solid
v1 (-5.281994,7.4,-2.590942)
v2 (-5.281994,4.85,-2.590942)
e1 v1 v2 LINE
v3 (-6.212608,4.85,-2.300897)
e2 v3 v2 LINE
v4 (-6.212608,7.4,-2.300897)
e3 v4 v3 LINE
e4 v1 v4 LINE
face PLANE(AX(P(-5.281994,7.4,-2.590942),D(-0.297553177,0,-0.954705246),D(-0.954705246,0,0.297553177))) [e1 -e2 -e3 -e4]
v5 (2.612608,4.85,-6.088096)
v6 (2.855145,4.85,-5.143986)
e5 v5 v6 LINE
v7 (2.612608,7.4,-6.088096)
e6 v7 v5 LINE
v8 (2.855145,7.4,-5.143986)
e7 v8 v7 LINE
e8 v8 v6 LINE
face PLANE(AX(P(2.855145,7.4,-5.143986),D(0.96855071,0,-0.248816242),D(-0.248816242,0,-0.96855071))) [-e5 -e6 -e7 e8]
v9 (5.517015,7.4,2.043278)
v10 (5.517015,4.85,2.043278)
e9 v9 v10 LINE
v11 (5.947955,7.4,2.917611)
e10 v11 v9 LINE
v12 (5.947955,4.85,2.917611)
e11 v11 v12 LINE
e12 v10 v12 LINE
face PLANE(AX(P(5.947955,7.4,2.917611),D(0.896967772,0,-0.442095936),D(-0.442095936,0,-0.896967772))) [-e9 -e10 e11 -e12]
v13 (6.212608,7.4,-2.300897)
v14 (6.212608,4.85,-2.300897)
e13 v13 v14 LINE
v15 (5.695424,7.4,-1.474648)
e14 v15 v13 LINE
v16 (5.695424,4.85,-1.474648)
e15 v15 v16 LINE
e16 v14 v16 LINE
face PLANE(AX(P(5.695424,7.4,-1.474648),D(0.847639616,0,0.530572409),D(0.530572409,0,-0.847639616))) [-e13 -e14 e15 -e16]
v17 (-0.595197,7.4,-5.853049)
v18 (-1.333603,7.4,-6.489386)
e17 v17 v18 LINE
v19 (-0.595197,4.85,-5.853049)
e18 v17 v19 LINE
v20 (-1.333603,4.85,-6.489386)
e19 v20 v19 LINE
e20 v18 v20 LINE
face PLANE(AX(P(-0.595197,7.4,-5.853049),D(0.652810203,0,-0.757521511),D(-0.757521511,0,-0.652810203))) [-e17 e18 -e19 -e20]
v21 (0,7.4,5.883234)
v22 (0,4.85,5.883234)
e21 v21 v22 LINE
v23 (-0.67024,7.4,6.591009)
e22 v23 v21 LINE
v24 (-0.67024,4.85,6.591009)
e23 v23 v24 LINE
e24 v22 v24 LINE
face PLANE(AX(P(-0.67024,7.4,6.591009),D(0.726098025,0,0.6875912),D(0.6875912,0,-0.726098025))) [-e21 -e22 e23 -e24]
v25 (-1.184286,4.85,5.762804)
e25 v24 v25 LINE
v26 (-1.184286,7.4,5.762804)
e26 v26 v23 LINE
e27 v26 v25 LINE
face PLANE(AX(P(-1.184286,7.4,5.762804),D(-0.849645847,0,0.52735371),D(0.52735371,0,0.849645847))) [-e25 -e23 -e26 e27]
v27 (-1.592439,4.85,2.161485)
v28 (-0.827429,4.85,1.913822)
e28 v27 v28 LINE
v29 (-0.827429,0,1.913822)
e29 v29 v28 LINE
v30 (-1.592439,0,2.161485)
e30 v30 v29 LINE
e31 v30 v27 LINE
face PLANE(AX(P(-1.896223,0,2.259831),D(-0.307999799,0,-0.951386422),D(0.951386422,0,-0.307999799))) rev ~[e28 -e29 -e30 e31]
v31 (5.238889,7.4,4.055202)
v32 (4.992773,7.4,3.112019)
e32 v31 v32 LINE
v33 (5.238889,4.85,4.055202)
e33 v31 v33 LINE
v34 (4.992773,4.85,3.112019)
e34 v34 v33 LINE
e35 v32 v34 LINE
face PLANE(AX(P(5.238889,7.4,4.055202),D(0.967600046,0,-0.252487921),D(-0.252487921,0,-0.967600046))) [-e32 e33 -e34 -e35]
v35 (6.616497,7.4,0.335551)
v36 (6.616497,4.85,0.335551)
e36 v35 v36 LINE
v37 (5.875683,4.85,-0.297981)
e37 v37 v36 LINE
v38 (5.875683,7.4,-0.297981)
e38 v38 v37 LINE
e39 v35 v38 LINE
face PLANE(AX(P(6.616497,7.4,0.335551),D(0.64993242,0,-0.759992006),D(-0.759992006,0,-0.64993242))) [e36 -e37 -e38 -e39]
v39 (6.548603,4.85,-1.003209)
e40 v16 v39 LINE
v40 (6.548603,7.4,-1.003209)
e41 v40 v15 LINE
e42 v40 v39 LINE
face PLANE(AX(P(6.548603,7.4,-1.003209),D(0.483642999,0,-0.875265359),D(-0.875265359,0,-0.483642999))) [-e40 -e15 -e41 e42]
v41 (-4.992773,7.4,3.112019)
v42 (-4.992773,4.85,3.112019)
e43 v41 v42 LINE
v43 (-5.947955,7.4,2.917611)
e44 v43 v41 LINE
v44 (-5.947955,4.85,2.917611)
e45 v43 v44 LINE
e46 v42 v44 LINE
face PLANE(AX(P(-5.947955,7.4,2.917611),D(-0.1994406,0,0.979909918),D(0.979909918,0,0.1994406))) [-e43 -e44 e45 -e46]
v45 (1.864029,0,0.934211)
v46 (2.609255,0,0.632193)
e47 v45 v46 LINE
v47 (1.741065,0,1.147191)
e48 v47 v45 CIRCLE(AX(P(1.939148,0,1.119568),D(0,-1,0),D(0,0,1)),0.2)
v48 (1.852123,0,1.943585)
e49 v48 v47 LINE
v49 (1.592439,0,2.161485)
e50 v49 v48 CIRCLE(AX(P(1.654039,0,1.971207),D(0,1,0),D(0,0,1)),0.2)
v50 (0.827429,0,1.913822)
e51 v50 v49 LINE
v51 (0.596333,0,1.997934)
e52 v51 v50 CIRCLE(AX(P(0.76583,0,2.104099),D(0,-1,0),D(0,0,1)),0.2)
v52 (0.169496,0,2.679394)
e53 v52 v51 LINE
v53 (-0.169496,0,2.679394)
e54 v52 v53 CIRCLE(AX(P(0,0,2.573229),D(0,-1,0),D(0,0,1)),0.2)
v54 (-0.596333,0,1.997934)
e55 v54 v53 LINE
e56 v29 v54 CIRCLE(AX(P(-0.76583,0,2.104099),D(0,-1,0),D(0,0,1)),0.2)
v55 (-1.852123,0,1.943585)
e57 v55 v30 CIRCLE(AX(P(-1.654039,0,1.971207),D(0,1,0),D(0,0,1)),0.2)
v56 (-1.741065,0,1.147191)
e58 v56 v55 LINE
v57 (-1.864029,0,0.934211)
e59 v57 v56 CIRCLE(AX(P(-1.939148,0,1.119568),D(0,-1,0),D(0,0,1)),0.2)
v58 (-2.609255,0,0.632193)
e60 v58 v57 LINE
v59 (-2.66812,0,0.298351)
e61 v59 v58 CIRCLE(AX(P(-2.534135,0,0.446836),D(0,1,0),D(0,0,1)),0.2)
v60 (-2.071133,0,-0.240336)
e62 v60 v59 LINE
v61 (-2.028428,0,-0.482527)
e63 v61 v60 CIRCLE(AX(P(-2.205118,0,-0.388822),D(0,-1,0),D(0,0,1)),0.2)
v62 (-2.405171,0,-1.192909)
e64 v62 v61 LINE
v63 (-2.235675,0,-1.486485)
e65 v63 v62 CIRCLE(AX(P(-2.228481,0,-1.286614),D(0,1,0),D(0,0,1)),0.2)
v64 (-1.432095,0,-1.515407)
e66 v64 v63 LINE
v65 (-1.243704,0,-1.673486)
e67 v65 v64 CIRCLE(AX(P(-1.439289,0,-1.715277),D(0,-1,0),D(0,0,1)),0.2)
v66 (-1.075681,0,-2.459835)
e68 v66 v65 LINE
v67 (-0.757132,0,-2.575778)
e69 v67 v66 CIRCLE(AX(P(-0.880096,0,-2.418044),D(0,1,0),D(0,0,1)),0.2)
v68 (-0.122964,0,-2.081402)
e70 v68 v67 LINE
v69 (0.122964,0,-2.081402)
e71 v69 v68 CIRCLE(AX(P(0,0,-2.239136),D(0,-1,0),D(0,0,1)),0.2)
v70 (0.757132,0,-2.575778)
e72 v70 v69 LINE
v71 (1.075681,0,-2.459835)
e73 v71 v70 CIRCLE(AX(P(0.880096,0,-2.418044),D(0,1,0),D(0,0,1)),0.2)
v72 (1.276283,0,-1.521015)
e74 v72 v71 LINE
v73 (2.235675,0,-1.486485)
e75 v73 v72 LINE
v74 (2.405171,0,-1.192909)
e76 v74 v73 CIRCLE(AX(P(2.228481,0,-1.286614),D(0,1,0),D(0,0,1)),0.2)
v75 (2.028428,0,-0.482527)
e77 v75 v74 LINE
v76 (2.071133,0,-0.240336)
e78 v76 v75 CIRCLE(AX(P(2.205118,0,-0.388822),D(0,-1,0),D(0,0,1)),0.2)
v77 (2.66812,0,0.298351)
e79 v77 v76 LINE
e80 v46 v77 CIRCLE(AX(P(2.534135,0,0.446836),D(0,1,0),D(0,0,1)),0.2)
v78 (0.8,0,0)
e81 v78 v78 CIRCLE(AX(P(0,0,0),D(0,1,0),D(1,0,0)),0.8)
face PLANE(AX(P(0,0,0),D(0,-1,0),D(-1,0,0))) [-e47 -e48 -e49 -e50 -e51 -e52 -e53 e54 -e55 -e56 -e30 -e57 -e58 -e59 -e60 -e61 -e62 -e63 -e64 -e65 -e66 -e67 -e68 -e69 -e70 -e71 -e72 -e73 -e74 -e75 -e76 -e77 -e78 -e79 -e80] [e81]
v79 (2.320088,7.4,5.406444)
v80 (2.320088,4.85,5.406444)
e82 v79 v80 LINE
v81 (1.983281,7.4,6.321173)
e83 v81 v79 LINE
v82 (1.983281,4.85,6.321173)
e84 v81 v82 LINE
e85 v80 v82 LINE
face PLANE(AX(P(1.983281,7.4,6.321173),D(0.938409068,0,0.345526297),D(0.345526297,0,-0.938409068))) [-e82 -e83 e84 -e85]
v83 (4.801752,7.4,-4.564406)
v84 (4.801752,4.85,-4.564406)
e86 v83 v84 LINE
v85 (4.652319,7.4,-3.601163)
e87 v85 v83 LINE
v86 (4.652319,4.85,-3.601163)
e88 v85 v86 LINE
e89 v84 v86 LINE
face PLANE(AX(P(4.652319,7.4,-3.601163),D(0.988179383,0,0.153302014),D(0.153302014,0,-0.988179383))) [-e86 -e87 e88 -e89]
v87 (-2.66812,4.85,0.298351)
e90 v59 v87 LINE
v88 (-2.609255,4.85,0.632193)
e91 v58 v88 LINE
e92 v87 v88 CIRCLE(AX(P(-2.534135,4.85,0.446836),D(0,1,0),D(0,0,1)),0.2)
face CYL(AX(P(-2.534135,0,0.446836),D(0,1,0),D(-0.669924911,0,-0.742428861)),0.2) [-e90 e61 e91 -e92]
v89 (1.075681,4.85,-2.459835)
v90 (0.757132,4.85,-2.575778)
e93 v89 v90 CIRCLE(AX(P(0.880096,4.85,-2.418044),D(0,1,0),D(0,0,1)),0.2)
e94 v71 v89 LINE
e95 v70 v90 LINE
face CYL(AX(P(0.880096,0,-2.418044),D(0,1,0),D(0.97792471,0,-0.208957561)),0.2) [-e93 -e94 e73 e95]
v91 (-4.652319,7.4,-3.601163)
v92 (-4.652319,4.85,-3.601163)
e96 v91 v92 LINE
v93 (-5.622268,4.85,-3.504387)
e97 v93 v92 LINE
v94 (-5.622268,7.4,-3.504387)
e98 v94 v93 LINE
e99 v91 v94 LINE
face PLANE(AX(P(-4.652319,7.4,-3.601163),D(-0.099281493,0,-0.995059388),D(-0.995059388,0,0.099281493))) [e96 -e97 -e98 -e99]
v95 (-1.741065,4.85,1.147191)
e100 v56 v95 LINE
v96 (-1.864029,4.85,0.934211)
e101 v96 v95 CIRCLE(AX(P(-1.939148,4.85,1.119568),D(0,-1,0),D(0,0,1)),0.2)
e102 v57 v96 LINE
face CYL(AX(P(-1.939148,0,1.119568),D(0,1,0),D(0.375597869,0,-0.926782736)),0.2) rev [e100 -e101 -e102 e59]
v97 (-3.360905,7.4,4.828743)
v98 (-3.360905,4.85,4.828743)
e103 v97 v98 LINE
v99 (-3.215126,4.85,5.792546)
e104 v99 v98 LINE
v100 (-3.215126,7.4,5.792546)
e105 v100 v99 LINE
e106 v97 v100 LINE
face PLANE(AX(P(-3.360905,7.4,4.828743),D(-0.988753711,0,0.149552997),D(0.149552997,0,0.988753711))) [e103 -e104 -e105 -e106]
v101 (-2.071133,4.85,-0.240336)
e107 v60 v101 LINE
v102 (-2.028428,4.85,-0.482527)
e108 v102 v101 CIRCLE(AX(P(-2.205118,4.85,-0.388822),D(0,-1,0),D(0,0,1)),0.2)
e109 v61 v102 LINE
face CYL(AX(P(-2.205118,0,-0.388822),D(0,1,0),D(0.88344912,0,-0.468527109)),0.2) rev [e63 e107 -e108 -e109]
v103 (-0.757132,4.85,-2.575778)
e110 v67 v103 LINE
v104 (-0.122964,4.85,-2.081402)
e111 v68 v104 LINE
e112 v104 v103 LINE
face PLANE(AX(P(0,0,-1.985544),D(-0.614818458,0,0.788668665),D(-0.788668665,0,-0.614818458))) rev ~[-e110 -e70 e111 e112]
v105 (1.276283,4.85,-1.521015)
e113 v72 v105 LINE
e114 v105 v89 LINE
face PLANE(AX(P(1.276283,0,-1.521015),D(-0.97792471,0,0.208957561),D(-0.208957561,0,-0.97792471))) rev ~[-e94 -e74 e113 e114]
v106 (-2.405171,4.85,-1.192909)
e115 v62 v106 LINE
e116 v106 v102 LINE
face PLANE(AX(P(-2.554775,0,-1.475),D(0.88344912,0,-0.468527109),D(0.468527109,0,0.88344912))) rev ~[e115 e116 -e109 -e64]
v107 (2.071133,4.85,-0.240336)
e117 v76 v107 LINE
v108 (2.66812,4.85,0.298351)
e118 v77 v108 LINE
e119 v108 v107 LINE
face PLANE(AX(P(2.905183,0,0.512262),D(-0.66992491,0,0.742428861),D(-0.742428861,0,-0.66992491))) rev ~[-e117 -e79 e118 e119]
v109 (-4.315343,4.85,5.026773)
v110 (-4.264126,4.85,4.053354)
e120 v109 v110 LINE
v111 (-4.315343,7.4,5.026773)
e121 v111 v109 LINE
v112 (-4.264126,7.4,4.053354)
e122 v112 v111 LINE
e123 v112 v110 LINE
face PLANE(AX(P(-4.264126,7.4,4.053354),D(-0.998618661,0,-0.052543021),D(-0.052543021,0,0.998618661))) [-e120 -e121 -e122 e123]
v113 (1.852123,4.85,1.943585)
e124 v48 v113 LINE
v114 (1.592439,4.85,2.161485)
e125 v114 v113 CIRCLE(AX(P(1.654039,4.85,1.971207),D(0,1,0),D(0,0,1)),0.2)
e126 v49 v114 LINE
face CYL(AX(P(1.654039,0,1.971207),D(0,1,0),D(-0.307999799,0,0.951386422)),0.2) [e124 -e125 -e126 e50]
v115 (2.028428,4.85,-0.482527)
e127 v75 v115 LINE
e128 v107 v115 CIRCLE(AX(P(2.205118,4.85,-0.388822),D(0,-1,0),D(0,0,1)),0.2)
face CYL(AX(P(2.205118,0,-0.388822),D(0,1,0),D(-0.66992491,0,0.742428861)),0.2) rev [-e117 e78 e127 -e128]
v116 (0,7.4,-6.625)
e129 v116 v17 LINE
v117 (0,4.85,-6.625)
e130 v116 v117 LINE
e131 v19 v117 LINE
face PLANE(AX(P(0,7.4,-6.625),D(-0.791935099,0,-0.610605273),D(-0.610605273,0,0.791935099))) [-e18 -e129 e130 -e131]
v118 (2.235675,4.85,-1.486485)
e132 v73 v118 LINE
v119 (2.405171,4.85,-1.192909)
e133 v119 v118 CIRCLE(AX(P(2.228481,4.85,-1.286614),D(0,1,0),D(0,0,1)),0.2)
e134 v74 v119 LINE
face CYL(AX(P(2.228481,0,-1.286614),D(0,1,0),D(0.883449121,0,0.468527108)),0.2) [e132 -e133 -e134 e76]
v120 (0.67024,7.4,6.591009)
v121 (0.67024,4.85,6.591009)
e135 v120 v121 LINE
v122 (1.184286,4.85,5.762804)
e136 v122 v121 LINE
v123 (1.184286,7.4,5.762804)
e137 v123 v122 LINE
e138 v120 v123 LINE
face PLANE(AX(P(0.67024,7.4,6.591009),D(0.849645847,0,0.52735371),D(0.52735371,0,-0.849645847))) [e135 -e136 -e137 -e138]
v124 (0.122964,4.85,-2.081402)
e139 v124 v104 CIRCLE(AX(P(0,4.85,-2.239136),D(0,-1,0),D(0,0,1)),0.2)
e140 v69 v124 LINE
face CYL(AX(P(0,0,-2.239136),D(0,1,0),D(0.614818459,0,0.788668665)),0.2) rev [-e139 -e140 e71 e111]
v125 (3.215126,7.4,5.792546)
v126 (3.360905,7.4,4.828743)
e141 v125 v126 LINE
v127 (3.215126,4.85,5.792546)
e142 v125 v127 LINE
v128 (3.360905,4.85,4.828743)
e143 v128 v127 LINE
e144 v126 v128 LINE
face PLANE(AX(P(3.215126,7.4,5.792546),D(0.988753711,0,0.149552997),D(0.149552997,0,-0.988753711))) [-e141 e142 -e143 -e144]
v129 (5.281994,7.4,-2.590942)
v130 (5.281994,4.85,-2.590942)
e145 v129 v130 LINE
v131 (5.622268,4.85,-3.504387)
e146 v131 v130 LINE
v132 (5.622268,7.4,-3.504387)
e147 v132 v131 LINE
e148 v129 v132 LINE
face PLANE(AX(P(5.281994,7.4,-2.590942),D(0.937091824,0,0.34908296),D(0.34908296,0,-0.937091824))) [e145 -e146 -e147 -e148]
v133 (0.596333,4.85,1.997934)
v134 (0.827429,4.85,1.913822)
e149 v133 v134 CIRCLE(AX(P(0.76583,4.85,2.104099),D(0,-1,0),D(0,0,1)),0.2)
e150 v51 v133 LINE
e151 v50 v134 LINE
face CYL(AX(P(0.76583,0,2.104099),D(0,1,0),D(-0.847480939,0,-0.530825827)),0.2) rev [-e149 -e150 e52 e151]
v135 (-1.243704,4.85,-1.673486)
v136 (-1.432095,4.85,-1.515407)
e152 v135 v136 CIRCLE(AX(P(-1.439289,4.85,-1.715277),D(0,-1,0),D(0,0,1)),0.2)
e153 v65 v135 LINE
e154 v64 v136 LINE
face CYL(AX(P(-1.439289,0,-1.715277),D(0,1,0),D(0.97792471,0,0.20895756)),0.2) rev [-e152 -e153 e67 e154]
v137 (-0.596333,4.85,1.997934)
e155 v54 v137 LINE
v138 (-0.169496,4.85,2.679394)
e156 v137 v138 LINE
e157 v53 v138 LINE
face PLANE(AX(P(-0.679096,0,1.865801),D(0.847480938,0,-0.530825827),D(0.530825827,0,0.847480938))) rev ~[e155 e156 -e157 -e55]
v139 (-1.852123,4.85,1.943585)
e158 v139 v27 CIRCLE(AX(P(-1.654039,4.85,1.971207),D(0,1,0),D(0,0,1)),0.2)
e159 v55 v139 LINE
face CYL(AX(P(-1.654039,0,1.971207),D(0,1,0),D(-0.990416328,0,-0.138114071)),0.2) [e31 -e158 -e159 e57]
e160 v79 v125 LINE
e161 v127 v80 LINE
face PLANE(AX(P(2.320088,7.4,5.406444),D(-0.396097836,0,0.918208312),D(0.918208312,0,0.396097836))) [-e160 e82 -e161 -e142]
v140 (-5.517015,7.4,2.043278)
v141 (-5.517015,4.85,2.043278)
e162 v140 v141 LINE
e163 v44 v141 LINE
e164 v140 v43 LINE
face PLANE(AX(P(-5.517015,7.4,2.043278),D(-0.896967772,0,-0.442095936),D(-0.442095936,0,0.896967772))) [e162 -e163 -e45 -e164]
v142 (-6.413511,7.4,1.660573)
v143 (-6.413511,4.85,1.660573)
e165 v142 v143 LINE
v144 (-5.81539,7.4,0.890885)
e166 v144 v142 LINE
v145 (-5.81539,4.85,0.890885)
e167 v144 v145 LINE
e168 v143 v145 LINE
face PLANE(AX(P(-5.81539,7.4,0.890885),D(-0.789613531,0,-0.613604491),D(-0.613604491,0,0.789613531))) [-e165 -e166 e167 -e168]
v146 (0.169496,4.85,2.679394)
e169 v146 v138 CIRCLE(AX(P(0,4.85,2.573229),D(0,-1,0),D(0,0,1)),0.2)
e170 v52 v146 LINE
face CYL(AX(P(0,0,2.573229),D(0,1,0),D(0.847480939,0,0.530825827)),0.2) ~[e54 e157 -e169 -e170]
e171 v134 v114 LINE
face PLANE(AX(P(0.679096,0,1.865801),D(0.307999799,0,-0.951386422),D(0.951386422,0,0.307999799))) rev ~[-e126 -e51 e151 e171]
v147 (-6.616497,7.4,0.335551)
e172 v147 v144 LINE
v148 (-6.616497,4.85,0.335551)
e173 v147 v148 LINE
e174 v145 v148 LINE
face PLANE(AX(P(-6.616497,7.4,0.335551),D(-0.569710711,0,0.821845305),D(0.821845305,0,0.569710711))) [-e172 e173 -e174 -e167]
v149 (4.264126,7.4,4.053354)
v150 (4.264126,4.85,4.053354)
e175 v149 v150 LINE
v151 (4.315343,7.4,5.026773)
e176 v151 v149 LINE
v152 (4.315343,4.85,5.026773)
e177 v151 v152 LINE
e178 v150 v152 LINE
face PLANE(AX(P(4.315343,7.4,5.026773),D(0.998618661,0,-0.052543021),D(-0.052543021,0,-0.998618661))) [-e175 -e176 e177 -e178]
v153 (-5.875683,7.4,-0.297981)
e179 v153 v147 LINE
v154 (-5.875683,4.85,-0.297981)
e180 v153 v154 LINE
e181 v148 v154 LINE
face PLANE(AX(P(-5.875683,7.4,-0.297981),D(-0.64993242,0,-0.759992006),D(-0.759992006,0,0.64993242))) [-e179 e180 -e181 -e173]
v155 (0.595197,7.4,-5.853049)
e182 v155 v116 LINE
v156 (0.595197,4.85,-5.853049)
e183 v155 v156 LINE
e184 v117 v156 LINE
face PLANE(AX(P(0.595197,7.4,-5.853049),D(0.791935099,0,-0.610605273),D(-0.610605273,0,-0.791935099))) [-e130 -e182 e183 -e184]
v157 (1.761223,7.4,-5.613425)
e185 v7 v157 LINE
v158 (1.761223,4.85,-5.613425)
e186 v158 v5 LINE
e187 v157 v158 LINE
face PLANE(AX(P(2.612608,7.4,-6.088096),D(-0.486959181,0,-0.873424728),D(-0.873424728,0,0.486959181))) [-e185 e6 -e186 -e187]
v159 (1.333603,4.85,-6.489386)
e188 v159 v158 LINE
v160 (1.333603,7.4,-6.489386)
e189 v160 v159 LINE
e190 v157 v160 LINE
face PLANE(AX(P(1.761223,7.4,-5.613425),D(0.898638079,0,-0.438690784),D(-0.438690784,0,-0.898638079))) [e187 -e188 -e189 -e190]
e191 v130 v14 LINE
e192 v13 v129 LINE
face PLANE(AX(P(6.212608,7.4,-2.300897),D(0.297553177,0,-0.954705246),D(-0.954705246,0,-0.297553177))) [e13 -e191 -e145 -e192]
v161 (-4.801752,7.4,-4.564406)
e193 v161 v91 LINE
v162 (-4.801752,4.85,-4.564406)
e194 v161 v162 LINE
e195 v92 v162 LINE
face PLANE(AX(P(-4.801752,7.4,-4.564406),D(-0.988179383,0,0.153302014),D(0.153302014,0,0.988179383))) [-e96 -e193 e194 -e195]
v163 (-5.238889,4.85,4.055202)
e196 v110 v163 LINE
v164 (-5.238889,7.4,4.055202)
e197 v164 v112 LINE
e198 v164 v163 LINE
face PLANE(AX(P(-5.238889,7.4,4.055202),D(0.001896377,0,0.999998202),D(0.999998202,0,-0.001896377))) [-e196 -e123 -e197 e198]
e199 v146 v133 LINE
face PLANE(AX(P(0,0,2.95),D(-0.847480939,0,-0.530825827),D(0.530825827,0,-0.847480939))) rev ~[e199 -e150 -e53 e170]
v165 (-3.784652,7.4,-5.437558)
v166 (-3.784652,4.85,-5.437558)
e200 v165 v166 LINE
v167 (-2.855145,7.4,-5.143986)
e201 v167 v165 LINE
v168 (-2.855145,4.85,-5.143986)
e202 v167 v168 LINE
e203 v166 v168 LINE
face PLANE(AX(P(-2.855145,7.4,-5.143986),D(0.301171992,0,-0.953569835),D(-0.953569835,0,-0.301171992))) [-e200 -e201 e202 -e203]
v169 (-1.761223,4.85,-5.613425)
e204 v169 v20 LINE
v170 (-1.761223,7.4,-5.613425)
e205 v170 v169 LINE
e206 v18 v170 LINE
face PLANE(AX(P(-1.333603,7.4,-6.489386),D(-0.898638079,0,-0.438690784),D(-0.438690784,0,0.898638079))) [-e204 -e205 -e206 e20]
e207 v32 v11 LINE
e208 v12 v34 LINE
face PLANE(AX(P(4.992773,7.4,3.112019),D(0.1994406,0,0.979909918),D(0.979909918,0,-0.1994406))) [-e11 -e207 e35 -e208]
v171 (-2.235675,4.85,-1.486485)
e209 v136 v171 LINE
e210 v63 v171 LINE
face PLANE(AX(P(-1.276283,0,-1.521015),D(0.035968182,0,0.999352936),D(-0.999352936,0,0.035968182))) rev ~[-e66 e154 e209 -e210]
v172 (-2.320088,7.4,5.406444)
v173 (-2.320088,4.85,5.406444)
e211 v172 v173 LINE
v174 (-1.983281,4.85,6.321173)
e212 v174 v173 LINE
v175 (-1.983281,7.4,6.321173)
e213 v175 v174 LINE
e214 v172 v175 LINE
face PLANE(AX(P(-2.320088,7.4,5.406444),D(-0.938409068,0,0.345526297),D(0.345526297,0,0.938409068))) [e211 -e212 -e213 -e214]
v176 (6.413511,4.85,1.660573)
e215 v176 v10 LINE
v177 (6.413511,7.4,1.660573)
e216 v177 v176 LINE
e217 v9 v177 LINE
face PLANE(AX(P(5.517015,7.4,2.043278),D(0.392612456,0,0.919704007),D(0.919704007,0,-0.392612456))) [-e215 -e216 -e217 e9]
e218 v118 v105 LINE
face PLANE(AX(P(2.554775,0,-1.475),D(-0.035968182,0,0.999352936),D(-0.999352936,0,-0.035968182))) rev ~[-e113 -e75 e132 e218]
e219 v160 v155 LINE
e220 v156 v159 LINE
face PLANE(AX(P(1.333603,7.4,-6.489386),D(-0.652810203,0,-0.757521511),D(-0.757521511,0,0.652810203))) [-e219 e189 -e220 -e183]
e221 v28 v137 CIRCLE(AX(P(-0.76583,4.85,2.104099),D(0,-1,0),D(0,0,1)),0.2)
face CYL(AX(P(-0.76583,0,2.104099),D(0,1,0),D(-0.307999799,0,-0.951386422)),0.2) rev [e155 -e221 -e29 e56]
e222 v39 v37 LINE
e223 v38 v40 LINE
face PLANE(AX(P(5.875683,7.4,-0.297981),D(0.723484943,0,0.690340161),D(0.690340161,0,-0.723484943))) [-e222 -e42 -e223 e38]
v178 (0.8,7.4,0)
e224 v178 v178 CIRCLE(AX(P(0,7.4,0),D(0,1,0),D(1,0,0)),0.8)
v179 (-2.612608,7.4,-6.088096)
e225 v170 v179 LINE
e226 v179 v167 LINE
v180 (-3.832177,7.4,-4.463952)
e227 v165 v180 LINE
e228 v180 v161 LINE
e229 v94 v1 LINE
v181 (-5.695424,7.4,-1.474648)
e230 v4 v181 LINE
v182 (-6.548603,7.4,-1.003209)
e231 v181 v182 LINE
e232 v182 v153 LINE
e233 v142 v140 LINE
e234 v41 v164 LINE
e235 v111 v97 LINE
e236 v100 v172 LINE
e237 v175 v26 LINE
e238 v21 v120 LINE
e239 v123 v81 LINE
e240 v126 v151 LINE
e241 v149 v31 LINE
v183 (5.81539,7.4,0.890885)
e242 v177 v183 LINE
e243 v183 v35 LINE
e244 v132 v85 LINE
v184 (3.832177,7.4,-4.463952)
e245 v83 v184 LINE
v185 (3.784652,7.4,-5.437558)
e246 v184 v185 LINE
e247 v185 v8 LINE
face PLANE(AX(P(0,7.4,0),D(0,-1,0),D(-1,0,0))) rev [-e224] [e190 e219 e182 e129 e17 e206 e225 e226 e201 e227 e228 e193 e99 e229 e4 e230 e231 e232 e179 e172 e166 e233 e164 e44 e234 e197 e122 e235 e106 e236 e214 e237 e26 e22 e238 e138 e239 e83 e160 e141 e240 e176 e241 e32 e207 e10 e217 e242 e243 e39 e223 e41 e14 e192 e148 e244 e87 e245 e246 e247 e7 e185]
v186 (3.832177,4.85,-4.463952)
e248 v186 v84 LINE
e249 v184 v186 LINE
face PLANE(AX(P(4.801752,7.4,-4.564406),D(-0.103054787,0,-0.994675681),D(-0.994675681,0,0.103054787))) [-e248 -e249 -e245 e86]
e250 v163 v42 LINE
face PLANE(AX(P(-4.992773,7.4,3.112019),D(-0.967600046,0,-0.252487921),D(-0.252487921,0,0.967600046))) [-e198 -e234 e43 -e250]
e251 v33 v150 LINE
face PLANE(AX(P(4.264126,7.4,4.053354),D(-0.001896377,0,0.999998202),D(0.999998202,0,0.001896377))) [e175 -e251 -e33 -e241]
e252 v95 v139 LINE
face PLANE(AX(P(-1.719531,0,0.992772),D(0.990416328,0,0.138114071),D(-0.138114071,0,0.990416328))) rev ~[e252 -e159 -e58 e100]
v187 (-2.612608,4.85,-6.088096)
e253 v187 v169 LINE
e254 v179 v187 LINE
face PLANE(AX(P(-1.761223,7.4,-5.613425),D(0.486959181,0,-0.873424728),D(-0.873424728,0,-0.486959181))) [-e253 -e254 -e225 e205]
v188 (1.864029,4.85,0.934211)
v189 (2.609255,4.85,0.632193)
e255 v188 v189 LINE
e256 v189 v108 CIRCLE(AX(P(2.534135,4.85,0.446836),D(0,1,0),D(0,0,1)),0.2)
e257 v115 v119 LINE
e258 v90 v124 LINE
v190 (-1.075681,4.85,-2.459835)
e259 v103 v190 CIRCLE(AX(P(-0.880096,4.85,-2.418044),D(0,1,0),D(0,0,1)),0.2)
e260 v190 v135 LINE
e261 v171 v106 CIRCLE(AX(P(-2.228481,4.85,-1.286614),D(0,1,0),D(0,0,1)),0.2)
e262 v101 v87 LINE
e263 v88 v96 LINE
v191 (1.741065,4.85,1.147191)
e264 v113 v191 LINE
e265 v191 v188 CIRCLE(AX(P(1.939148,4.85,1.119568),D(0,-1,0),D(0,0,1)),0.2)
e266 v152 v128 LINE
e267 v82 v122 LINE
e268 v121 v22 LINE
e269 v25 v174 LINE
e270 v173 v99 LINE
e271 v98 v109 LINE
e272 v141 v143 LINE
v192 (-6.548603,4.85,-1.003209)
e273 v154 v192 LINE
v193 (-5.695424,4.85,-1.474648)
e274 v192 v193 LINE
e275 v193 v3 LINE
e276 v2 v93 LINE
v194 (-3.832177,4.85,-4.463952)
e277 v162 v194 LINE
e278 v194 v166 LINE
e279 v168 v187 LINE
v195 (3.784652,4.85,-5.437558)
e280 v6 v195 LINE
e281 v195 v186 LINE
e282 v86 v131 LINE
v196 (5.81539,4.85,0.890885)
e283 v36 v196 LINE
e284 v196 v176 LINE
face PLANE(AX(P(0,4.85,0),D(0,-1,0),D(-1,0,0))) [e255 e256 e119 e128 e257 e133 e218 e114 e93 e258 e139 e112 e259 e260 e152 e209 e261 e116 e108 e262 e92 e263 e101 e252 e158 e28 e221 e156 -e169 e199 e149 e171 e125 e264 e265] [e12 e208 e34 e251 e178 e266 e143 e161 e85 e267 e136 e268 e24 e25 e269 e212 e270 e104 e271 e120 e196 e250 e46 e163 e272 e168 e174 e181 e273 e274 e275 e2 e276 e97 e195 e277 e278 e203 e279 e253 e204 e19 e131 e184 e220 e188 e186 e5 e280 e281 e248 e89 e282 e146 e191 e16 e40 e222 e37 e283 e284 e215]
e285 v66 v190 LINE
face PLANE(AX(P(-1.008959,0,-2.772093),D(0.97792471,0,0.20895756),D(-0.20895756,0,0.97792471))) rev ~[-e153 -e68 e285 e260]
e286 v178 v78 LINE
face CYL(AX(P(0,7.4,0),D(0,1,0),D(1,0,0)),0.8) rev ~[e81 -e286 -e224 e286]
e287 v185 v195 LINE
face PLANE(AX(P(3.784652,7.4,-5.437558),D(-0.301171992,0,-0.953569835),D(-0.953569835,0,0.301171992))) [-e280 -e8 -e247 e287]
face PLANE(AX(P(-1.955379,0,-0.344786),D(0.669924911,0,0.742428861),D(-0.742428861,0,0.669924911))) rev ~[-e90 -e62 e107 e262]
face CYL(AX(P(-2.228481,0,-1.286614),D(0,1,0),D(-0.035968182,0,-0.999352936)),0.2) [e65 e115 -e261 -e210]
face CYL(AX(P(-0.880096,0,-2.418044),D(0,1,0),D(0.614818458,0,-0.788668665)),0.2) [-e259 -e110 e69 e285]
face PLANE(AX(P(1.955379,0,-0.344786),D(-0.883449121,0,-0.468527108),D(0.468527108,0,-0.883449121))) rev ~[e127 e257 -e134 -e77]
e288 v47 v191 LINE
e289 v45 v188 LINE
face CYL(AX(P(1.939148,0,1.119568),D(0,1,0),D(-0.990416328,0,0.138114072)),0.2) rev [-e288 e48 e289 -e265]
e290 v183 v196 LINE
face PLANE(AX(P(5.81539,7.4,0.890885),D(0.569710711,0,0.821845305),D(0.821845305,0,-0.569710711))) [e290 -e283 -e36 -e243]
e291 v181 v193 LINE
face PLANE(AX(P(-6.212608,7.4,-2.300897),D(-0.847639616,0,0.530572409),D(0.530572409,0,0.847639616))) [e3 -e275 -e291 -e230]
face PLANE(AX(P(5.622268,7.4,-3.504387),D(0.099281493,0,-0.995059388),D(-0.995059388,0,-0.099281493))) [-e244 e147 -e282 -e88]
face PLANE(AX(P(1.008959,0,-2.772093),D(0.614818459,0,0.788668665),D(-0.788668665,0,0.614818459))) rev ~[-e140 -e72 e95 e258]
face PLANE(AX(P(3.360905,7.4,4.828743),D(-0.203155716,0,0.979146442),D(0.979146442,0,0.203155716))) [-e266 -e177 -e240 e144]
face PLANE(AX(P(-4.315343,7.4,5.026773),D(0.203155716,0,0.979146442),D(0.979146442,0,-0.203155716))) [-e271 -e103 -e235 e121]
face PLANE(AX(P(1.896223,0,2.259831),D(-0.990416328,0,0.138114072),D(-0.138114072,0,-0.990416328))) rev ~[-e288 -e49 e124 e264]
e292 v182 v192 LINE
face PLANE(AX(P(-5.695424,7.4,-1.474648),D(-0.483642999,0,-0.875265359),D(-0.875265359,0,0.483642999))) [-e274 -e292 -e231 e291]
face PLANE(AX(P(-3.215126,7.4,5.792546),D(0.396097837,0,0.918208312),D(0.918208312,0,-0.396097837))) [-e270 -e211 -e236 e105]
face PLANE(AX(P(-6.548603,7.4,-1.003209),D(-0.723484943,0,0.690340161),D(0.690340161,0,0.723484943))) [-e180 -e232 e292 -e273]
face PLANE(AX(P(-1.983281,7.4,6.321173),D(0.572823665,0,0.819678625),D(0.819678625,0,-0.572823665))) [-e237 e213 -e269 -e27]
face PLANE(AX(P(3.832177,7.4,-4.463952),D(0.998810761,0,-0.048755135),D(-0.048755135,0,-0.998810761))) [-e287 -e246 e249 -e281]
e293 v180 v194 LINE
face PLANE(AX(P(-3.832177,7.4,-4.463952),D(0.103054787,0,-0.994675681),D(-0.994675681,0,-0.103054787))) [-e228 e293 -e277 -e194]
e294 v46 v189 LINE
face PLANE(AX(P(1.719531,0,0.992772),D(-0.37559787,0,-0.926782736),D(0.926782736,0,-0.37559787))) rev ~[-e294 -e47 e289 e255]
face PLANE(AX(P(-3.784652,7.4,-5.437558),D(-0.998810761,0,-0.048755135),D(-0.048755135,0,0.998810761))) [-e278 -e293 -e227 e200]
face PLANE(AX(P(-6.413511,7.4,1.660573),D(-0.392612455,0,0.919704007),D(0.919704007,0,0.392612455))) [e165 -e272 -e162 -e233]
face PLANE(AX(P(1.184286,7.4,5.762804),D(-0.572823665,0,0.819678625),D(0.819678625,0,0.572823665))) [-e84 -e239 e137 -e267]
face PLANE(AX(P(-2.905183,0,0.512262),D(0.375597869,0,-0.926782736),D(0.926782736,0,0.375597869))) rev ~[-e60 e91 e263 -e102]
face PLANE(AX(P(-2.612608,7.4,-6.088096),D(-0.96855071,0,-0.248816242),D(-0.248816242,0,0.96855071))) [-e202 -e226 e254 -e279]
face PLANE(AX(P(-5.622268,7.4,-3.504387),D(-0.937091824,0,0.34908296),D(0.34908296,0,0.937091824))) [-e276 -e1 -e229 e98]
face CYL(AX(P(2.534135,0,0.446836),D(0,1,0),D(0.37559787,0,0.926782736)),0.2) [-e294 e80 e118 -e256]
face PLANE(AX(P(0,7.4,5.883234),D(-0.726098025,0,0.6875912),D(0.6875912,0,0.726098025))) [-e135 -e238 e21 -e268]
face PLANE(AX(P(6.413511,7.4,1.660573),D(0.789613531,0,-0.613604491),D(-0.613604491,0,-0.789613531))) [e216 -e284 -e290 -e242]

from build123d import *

# Parameters (mm, degrees)
SKETCH2_R          = 0.8
CUT_EXTRUDE1_DEPTH = 8.4
CUT_EXTRUDE2_DEPTH = 8.4
CIRPATTERN1_COUNT  = 31
CUT_EXTRUDE3_DEPTH = 4.85
CIRPATTERN2_COUNT  = 9
FILLET1_R          = 0.2


with BuildPart() as part:
    # Sketch1 → Revolve1 (revolve)
    with BuildSketch(Plane.XY):
        Polygon((-6.625, 7.4), (-6.625, 4.85), (-2.95, 4.85), (-2.95, 0), (0, 0), (0, 7.4), align=None)
    revolve(axis=Axis((0, 7.4, 0), (0, -1, 0)))

    # Sketch2 → Cut-Extrude1 (cut, through all)
    with BuildSketch(Plane(origin=(0, 7.4, 0), x_dir=(1, 0, 0), z_dir=(0, 1, 0))):
        Circle(SKETCH2_R)
    extrude(amount=-CUT_EXTRUDE1_DEPTH, mode=Mode.SUBTRACT)

    # Sketch4 → Cut-Extrude2 (cut, through all)
    with BuildSketch(Plane(origin=(0, 7.4, 0), x_dir=(1, 0, 0), z_dir=(0, 1, 0))):
        with BuildLine():
            Line((1.333602696, 6.489385861), (0.595196913, 5.853049041))
            Line((0.595196913, 5.853049041), (0, 6.625))
            ThreePointArc((0, 6.625), (0.670240133, 6.591009267), (1.333602696, 6.489385861))
        make_face()
    cut_extrude2 = extrude(amount=-CUT_EXTRUDE2_DEPTH, mode=Mode.SUBTRACT)

    # CirPattern1: Cut-Extrude2 ×31 about axis
    cirpattern1_axis = Axis((0, 0, 0), (0, 1, 0))
    for i in range(1, CIRPATTERN1_COUNT):
        add(cut_extrude2.rotate(cirpattern1_axis, i * 360 / CIRPATTERN1_COUNT), mode=Mode.SUBTRACT)

    # Sketch5 → Cut-Extrude3 (cut)
    with BuildSketch(Plane.XZ):
        with BuildLine():
            Line((0, 2.95), (0.67909598, 1.865800872))
            Line((0.67909598, 1.865800872), (1.896223449, 2.259831107))
            ThreePointArc((1.896223449, 2.259831107), (1.008959423, 2.772093231), (0, 2.95))
        make_face()
    cut_extrude3 = extrude(amount=-CUT_EXTRUDE3_DEPTH, mode=Mode.SUBTRACT)

    # CirPattern2: Cut-Extrude3 ×9 about axis
    cirpattern2_axis = Axis((0, 0, 0), (0, 1, 0))
    for i in range(1, CIRPATTERN2_COUNT):
        add(cut_extrude3.rotate(cirpattern2_axis, i * 360 / CIRPATTERN2_COUNT), mode=Mode.SUBTRACT)

    # Fillet1
    fillet1_edges = [part.edges().sort_by_distance(p)[0] for p in [
        (0, 2.425, 2.95),
        (1.896223449, 2.425, 2.259831107),
        (0.67909598, 2.425, 1.865800872),
        (2.905182871, 2.425, 0.512262124),
        (1.719531385, 2.425, 0.992771908),
        (2.554774941, 2.425, -1.475),
        (1.955378943, 2.425, -0.344786065),
        (1.008959423, 2.425, -2.772093231),
        (-1.008959423, 2.425, -2.772093231),
        (0, 2.425, -1.985543815),
        (-2.554774941, 2.425, -1.475),
        (-1.276282963, 2.425, -1.521014806),
        (-2.905182871, 2.425, 0.512262124),
        (-1.955378943, 2.425, -0.344786065),
        (-1.896223449, 2.425, 2.259831107),
        (-1.719531385, 2.425, 0.992771908),
        (-0.67909598, 2.425, 1.865800872),
    ]]
    fillet(fillet1_edges, radius=FILLET1_R)


solid = part.part
